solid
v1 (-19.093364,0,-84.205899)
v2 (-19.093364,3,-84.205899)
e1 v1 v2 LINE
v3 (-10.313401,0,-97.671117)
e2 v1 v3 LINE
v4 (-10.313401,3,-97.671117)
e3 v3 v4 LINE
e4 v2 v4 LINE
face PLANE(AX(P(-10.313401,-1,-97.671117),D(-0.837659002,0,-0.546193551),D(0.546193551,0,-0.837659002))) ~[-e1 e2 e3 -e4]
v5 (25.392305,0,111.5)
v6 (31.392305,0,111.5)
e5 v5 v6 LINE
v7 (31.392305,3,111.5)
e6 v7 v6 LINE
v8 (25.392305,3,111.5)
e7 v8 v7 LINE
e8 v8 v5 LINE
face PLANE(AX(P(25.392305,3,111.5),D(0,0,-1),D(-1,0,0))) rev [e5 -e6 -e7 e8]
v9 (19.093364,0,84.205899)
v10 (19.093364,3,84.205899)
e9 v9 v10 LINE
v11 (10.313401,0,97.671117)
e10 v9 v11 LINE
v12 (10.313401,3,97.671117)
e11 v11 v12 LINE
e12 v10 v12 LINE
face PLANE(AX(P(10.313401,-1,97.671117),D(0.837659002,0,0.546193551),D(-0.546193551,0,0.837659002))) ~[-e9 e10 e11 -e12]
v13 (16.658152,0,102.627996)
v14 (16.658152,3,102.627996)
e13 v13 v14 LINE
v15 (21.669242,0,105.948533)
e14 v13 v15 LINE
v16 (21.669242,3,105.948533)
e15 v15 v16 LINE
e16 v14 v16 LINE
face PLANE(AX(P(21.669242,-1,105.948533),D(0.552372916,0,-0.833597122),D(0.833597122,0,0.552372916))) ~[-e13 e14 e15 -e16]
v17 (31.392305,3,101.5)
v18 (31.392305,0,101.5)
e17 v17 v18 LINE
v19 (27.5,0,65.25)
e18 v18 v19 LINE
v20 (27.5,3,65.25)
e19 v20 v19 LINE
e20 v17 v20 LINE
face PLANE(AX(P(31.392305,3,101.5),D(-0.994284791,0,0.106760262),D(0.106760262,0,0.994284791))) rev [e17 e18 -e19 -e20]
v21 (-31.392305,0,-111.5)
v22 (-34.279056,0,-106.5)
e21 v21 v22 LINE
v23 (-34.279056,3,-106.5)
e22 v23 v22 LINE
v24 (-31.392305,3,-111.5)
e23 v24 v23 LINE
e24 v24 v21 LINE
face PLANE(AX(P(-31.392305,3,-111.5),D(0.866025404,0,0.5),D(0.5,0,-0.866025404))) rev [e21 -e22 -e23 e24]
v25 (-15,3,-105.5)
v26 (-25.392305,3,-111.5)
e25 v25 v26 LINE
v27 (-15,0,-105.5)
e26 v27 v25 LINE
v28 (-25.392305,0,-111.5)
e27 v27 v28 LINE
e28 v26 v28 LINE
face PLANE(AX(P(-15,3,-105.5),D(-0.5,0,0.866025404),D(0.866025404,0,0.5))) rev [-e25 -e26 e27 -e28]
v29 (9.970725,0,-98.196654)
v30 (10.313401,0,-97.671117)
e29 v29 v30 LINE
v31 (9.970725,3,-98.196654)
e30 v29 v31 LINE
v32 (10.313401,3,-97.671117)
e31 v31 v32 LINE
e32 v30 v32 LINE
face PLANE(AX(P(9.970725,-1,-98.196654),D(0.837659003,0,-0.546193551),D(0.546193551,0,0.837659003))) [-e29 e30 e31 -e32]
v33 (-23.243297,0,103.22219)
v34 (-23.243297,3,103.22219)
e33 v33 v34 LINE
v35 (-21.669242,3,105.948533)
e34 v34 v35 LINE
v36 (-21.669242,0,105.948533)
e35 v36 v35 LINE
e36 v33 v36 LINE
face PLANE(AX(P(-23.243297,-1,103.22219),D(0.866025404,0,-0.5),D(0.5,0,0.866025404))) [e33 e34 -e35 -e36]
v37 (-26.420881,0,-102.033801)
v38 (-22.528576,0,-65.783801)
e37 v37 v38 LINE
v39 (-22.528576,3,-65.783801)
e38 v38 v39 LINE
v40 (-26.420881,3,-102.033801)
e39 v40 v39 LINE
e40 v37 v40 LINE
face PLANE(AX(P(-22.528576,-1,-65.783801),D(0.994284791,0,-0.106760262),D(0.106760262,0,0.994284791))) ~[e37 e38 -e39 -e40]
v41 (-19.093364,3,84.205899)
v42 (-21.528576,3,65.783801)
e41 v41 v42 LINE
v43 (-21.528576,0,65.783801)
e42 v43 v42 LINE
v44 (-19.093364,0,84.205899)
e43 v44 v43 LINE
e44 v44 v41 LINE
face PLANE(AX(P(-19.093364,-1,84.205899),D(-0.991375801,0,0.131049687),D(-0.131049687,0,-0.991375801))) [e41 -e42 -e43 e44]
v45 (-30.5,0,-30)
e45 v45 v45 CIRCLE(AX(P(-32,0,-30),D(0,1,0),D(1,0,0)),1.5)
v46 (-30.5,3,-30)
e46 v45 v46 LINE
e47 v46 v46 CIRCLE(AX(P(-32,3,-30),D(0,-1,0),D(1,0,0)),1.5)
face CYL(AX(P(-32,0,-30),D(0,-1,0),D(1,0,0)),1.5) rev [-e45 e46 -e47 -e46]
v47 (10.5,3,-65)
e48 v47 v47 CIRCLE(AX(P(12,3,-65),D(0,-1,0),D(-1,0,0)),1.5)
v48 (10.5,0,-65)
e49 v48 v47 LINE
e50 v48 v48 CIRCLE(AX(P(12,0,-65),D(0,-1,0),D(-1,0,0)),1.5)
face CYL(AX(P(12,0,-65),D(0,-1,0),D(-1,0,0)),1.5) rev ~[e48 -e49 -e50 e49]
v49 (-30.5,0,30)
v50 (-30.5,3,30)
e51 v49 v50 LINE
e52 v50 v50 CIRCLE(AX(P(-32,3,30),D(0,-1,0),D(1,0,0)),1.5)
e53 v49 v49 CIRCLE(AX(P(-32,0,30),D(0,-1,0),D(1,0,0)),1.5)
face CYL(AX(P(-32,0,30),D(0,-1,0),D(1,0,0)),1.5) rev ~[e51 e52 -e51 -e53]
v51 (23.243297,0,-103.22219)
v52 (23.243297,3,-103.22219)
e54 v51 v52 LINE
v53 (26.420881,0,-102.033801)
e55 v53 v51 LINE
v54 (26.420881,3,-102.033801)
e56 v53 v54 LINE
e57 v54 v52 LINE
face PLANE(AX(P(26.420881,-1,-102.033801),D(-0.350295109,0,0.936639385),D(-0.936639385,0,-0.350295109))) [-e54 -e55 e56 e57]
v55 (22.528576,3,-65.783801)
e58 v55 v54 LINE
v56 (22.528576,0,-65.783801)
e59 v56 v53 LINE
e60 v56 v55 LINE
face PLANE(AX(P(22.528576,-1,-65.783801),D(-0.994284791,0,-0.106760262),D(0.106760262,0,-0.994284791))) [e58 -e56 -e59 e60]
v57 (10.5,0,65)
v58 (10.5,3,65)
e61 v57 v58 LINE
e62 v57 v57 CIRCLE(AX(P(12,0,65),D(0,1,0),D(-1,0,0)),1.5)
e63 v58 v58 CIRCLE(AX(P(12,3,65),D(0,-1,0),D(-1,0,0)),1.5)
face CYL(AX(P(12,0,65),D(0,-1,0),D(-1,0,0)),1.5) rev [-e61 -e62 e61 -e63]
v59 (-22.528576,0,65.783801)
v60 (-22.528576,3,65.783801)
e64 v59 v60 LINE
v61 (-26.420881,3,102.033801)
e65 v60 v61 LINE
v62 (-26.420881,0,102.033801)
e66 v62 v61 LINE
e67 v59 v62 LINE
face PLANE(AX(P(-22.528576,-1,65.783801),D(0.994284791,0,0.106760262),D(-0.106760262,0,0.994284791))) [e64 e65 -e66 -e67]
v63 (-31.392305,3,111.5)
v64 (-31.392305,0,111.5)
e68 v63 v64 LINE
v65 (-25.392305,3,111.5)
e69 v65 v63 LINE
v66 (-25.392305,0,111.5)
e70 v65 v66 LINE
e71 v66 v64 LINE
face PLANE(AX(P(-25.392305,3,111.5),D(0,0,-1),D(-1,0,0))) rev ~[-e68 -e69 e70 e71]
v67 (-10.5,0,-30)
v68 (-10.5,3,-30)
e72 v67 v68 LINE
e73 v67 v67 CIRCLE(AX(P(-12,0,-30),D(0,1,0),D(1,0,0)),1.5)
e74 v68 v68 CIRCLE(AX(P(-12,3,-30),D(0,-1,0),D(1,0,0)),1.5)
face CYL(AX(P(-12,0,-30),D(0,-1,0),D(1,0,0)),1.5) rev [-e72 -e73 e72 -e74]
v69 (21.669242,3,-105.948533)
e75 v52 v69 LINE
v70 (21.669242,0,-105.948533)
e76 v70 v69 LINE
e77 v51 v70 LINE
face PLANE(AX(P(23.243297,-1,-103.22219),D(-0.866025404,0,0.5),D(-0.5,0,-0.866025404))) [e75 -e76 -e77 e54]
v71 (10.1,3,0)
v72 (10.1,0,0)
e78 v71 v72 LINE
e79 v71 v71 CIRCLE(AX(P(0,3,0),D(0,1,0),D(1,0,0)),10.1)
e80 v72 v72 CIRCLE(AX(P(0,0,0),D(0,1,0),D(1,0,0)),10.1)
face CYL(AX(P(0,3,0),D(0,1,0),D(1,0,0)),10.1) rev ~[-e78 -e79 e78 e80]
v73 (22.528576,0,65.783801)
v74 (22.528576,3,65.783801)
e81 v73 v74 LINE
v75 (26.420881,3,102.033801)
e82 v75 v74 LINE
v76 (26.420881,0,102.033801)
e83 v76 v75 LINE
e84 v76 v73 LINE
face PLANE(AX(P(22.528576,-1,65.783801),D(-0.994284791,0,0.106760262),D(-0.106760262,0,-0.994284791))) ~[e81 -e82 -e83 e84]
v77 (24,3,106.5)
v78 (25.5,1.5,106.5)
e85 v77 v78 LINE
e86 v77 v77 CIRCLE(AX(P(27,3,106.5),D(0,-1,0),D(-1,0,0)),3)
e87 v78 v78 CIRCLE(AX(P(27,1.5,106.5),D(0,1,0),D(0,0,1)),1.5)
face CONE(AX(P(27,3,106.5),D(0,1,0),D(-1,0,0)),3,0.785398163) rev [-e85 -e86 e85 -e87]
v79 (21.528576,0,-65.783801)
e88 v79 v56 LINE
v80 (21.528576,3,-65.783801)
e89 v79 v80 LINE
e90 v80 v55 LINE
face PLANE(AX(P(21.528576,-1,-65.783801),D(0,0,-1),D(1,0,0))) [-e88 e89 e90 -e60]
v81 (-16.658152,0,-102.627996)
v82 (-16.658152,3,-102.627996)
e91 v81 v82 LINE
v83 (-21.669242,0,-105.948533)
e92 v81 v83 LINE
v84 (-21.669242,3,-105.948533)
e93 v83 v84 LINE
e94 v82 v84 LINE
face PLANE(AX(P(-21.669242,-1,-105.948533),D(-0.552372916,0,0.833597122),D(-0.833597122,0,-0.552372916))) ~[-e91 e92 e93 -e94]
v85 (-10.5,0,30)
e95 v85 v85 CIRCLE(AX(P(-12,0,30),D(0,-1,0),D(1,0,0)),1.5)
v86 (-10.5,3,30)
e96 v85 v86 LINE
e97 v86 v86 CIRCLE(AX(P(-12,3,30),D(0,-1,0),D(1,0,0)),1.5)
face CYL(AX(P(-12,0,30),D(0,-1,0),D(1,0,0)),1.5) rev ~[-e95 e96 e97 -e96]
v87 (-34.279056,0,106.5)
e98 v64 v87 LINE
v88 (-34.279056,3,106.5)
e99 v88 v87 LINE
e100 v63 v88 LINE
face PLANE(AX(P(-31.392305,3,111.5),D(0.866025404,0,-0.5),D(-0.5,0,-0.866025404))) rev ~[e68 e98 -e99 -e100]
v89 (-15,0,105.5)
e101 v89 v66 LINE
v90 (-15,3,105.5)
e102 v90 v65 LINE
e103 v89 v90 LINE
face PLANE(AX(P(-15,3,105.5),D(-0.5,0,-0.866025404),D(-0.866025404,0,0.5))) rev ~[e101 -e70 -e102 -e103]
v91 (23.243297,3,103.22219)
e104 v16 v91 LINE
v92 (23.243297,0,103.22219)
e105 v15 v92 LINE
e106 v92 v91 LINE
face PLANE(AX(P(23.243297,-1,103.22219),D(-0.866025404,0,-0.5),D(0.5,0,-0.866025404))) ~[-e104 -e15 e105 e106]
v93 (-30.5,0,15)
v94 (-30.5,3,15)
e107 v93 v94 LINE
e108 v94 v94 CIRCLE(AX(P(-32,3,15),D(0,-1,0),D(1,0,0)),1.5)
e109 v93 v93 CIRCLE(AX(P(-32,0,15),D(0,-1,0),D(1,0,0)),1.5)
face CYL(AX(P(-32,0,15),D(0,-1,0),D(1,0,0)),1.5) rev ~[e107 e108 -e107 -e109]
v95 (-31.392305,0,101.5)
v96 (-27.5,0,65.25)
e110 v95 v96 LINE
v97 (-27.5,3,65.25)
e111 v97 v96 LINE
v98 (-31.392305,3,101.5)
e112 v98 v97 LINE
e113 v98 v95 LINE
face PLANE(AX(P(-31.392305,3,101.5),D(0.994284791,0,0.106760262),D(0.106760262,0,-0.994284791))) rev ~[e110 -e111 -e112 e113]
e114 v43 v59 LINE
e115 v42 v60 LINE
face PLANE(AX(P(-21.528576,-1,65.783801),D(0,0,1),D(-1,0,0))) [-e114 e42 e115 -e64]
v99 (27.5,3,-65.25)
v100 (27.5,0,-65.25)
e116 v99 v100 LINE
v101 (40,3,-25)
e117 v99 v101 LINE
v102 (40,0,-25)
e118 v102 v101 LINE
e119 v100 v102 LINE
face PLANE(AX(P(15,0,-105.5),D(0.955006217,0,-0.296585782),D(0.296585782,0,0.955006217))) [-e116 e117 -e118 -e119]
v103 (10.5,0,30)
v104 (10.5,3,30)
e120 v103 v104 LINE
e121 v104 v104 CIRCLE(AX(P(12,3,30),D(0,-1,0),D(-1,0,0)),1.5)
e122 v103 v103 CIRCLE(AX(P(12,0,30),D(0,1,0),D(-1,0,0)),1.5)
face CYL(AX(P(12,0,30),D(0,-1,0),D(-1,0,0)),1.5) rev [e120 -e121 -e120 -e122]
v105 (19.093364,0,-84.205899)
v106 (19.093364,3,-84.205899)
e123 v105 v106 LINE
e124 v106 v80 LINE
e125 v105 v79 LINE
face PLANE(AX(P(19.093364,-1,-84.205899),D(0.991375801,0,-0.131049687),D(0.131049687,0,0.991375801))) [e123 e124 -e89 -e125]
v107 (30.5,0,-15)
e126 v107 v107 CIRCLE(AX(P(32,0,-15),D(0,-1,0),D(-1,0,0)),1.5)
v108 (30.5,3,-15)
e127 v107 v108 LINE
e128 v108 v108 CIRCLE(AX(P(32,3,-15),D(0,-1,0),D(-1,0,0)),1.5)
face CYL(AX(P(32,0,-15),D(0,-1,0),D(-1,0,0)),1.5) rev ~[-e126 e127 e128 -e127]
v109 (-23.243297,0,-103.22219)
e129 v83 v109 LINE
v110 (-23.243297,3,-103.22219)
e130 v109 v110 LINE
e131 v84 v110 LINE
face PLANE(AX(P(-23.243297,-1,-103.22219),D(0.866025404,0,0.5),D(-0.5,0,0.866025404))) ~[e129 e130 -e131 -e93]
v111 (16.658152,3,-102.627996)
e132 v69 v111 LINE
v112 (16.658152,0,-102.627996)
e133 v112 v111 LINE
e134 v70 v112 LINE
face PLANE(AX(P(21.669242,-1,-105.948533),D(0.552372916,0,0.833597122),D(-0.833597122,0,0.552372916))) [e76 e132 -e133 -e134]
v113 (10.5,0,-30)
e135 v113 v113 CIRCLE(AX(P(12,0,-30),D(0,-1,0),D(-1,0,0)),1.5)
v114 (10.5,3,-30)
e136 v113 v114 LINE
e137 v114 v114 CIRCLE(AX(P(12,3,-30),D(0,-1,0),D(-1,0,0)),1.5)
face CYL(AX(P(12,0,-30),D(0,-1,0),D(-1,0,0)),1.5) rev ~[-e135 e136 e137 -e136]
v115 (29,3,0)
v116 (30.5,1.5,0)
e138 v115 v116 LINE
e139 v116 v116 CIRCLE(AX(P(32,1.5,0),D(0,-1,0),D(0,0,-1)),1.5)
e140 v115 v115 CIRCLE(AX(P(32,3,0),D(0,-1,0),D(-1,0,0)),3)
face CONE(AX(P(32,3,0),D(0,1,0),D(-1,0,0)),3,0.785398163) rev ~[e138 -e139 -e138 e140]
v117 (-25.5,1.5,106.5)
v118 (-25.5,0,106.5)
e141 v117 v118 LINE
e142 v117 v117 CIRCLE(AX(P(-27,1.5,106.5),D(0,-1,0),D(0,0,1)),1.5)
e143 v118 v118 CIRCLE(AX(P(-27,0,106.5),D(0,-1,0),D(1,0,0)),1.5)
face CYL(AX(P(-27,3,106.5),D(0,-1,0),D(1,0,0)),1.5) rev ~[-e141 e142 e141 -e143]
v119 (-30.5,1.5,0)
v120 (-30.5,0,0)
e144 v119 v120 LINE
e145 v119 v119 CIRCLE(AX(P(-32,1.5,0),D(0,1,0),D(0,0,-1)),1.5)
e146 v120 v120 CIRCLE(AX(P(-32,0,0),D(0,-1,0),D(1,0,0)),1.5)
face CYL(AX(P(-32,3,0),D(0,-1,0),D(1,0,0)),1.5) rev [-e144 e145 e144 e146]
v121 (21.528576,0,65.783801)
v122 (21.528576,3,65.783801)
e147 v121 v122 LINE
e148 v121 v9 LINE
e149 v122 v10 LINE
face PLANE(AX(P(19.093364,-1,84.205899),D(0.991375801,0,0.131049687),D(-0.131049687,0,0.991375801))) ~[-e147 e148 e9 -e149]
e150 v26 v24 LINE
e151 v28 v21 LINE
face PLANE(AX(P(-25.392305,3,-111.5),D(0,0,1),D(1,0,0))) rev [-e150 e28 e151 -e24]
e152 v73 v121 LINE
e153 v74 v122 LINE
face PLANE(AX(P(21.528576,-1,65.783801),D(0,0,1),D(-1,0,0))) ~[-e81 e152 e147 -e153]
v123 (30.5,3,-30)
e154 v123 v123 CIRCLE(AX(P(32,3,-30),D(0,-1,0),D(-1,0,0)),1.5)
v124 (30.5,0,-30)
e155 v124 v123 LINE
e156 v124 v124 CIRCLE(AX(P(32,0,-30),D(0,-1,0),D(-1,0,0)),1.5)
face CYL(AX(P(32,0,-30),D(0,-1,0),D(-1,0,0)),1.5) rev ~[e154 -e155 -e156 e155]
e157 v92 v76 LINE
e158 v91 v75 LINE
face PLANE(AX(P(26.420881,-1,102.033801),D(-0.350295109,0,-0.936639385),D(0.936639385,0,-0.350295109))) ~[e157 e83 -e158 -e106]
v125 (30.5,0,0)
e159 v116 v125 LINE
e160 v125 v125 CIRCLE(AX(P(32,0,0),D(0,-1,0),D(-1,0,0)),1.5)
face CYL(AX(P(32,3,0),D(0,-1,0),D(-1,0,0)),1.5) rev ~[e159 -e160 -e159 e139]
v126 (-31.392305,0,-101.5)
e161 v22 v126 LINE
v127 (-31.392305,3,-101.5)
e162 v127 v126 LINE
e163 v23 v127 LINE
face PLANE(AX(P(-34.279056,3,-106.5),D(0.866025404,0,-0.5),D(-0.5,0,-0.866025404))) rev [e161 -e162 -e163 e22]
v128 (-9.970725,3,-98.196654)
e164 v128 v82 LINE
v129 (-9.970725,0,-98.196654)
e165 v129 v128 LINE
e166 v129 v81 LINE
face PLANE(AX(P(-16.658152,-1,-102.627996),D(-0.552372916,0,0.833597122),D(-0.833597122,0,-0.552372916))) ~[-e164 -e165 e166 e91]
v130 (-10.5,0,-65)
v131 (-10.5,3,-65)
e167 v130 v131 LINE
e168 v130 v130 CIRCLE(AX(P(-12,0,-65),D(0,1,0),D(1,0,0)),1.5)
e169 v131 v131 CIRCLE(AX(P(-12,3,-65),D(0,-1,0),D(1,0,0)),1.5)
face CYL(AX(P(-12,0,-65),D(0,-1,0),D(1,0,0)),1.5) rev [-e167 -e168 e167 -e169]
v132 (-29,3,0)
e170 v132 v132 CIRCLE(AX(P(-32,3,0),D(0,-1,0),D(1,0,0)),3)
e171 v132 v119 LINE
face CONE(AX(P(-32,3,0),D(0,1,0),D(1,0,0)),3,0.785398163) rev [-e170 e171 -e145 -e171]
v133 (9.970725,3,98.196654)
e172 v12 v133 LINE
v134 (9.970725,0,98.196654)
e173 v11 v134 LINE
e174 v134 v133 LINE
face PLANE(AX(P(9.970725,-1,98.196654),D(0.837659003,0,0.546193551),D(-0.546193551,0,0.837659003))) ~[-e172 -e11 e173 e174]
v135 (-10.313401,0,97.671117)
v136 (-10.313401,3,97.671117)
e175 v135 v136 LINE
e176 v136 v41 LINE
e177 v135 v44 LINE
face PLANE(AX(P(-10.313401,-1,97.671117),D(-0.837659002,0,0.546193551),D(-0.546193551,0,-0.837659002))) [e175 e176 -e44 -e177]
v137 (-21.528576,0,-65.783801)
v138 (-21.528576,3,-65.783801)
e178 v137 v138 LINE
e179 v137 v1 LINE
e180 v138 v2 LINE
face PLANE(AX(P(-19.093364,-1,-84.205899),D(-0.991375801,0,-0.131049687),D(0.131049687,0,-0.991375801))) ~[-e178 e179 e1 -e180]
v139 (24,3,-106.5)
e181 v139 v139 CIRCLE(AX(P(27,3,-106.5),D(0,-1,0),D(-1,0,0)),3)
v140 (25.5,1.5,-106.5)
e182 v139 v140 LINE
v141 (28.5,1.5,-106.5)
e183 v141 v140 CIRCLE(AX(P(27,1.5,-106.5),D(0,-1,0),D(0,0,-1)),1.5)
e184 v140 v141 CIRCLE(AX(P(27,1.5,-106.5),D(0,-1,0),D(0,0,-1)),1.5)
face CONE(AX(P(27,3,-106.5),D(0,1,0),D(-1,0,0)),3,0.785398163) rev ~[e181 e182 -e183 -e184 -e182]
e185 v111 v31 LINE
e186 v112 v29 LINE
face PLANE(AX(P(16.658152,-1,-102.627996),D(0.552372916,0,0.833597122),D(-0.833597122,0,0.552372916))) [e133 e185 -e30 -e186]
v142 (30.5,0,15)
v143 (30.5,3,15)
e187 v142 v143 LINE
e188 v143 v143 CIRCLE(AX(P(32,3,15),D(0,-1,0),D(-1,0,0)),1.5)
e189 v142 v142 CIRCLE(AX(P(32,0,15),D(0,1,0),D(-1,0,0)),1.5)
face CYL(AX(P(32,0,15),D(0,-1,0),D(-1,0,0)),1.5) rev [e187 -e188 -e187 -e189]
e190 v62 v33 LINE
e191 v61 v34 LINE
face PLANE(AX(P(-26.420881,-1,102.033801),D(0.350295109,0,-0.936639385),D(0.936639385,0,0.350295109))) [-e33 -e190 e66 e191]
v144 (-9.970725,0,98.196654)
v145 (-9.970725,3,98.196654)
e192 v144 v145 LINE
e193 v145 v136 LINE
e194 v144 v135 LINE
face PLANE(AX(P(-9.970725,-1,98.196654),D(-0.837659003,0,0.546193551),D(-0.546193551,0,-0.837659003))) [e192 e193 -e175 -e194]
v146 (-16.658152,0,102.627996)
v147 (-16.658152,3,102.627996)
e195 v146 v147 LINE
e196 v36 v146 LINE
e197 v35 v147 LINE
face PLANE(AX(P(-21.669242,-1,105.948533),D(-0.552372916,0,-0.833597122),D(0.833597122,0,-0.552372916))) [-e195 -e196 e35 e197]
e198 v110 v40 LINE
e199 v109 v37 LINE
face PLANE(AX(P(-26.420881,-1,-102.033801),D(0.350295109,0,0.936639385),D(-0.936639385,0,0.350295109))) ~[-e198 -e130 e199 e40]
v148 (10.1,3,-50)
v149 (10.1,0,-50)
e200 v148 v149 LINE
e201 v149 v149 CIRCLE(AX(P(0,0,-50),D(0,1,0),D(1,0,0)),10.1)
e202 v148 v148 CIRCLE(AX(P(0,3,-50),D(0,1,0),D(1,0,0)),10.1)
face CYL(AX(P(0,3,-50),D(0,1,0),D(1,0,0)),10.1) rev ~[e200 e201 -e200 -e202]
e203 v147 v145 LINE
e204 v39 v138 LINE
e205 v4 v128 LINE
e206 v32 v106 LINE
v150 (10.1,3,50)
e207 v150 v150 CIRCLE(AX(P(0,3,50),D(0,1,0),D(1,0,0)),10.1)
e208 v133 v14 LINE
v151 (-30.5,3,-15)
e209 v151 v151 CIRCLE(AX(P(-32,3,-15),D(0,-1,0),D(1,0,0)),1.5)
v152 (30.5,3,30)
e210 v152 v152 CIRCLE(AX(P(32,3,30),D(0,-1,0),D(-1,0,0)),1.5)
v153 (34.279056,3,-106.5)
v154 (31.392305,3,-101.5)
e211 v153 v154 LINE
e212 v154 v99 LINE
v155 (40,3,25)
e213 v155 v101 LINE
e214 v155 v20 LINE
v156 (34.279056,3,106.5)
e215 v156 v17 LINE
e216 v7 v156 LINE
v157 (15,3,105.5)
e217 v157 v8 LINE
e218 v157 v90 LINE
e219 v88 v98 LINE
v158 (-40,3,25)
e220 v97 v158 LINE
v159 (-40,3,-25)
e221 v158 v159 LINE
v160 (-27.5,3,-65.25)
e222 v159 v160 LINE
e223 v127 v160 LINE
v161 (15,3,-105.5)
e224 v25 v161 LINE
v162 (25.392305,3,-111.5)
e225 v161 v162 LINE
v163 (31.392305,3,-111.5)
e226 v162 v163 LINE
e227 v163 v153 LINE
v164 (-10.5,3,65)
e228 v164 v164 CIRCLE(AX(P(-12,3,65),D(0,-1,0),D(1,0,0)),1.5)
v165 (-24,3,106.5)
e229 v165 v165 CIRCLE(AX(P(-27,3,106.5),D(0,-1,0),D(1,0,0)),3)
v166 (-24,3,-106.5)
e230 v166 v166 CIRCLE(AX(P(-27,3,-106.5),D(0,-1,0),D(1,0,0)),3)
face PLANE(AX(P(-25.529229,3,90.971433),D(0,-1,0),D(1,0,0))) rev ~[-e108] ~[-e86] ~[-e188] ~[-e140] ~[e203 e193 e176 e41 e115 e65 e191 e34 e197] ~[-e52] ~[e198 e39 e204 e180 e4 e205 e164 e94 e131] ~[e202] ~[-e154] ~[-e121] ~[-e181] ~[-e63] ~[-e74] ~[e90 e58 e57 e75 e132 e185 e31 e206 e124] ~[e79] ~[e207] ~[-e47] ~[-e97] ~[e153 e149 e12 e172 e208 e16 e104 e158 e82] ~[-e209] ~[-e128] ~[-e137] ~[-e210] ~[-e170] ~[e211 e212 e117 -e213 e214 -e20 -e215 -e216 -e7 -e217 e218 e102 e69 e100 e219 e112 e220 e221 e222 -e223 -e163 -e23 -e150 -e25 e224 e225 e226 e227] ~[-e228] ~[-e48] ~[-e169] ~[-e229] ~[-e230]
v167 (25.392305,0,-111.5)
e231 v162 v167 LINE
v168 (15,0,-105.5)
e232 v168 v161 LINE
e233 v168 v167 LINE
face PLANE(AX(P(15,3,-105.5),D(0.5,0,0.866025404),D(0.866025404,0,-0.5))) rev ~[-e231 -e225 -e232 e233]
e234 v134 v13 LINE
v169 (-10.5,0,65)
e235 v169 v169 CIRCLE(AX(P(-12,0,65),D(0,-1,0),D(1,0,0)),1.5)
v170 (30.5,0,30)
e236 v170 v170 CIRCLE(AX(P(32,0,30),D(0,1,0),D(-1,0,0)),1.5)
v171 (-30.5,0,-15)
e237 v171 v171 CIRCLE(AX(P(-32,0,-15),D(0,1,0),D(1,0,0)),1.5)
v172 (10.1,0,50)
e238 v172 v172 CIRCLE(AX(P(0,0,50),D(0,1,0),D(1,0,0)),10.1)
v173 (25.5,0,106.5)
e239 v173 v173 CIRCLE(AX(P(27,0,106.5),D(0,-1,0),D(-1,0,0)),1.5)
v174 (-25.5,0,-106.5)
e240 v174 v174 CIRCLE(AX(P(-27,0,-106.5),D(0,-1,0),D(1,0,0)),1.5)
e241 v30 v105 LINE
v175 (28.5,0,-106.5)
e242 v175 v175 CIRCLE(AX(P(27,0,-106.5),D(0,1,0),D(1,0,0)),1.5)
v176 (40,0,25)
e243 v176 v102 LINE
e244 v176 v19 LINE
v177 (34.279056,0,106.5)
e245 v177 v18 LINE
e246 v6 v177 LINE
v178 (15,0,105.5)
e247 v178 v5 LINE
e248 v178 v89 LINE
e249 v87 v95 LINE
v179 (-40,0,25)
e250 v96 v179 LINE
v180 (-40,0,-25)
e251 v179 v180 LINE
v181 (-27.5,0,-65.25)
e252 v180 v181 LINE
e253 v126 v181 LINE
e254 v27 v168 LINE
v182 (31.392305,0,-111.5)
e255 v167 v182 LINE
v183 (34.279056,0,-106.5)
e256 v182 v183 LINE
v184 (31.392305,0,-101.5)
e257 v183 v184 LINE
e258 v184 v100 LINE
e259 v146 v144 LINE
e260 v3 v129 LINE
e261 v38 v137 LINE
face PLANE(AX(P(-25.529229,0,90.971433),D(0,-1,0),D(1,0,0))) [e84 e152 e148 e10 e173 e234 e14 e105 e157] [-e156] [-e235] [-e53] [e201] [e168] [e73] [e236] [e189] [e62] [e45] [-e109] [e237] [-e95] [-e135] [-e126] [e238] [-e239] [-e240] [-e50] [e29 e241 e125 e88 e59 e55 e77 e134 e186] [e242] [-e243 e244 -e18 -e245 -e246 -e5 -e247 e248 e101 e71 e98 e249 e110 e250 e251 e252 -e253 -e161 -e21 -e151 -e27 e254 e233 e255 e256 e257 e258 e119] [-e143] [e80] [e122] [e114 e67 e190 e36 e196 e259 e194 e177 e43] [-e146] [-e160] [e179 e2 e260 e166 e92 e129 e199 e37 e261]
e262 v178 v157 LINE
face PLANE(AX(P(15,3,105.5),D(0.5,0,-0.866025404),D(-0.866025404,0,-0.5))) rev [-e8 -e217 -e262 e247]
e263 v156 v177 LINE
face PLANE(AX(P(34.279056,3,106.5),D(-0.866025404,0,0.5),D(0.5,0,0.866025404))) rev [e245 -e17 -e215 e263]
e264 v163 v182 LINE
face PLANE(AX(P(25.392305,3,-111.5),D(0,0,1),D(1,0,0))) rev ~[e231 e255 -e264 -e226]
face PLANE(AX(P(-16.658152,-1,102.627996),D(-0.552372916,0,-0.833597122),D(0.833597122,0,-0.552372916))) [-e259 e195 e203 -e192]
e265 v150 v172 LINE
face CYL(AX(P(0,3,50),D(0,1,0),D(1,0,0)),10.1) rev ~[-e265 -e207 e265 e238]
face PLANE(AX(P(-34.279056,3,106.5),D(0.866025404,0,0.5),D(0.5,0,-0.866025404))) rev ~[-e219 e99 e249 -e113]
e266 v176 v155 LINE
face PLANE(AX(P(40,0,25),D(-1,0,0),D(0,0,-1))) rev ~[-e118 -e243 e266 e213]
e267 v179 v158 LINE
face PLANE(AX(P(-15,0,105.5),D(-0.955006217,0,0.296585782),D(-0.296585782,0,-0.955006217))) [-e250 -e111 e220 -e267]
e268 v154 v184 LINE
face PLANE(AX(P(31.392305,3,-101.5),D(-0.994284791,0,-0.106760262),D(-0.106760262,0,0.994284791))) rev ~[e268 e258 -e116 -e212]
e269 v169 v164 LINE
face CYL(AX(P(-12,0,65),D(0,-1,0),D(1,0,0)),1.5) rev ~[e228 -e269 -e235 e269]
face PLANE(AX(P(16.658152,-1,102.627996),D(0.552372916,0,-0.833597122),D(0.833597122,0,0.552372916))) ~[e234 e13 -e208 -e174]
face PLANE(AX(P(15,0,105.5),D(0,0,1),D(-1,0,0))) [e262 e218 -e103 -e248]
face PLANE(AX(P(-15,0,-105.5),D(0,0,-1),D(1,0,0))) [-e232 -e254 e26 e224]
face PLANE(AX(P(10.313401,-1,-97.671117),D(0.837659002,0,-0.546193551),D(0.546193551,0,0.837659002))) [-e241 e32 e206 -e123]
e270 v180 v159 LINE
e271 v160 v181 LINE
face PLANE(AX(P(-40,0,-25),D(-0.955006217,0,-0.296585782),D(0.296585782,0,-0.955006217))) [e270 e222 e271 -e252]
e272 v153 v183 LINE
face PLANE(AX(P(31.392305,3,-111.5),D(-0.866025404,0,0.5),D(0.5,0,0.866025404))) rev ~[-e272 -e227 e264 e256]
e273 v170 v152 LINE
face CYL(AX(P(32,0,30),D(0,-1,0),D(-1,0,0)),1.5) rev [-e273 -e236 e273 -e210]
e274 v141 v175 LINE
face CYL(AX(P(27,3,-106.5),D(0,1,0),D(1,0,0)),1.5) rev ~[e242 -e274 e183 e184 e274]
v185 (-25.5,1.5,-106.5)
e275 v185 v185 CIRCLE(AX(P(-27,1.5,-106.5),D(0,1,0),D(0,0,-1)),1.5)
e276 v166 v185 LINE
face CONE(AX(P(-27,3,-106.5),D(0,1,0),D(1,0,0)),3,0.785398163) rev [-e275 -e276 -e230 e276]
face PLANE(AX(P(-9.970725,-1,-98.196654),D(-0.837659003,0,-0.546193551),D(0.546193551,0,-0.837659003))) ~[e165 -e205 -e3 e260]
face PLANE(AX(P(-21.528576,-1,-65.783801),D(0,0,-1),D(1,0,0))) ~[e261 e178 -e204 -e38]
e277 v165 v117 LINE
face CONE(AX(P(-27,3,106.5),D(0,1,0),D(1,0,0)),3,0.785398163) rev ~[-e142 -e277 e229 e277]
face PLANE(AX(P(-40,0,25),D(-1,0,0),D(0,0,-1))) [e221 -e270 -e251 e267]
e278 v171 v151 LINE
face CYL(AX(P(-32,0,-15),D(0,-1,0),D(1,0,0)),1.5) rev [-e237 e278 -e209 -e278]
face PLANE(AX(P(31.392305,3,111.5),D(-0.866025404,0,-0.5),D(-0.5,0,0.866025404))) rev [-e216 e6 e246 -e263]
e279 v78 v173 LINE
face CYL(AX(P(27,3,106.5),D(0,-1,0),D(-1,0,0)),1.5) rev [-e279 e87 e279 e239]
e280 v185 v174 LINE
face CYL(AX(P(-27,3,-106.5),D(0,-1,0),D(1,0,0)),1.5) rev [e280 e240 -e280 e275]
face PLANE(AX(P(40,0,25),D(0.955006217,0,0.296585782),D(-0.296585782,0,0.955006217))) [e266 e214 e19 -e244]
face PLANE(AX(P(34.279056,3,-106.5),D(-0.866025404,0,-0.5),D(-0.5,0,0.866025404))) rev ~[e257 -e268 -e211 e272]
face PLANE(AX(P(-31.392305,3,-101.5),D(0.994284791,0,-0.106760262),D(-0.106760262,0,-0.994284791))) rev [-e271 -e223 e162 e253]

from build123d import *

# Parameters (mm, degrees)
SKETCH_1_W                   = 80
SKETCH_1_H                   = 50
EXTRUDE_1_DEPTH              = 3
EXTRUDE_2_DEPTH              = 3
SKETCH_8_R                   = 1.5
CUT_EXTRUDE_4_DEPTH          = 3
CUT_EXTRUDE_START            = -4
CUT_EXTRUDE_6_DEPTH          = 5
HOLE_WIZARD_M3_1_D           = 3
HOLE_WIZARD_M3_1_CSINK_D     = 6
HOLE_WIZARD_M3_1_CSINK_ANGLE = 90
MIRROR_7_COPY_1_DEPTH        = 3
MIRROR_START                 = -4
MIRROR_7_COPY_2_DEPTH        = 5
MIRROR_7_COPY_3_D            = 3
MIRROR_7_COPY_3_CSINK_D      = 6
MIRROR_7_COPY_3_CSINK_ANGLE  = 90
SKETCH_14_R                  = 10.1
CUT_EXTRUDE_7_DEPTH          = 4
SKETCH_15_R                  = 1.5
CUT_EXTRUDE_8_DEPTH          = 10
MIRROR_9_COPY_1_SKETCH_R     = 1.5
MIRROR_9_COPY_1_DEPTH        = 10


with BuildPart() as part:
    # 草图1 → 凸台-拉伸1 (new body)
    with BuildSketch(Plane(origin=(0, 0, 0), x_dir=(1, 0, 0), z_dir=(0, 1, 0))):
        Polygon((-15, -105.5), (-40, -25), (40, -25), (15, -105.5), align=None)
        Rectangle(SKETCH_1_W, SKETCH_1_H)
        Polygon((-15, 105.5), (15, 105.5), (40, 25), (-40, 25), align=None)
    extrude(amount=EXTRUDE_1_DEPTH)

    # 草图7 → 凸台-拉伸2 (add)
    with BuildSketch(Plane(origin=(0, 3, 0), x_dir=(1, 0, 0), z_dir=(0, 1, 0))):
        Polygon((15, 105.5), (25.392304845, 111.5), (31.392304845, 111.5), (34.279056191, 106.5), (31.392304845, 101.5), (27.5, 65.25), align=None)
    extrude_2 = extrude(amount=-EXTRUDE_2_DEPTH)

    # 草图8 → 切除-拉伸4 (cut)
    with BuildSketch(Plane(origin=(0, 3, 0), x_dir=(1, 0, 0), z_dir=(0, 1, 0))):
        with Locations((27, 106.5)):
            Circle(SKETCH_8_R)
    extrude(amount=-CUT_EXTRUDE_4_DEPTH, mode=Mode.SUBTRACT)

    # 草图9 → 切除-拉伸6 (cut)
    with BuildSketch(Plane(origin=(0, 3, 0), x_dir=(1, 0, 0), z_dir=(0, 1, 0)).offset(CUT_EXTRUDE_START)):
        Polygon((22.528576043, 65.783801312), (26.420880888, 102.033801312), (23.243297221, 103.222190391), (21.66924243, 105.948533263), (16.658152368, 102.627995852), (19.093364206, 84.205898582), (21.528576043, 65.783801312), align=None)
        Polygon((10.313400805, 97.671116845), (19.093364206, 84.205898582), (16.658152368, 102.627995852), (9.970725358, 98.196654308), align=None)
    cut_extrude_6 = extrude(amount=CUT_EXTRUDE_6_DEPTH, mode=Mode.SUBTRACT)

    # M3 六角凹锥坑螺钉的锥形沉头孔1 (through all)
    with Locations(Plane(origin=(0, 3, 0), x_dir=(1, 0, 0), z_dir=(0, 1, 0))):
        with Locations((27, 106.5), (32, 0)):
            hole_wizard_m3_1 = CounterSinkHole(HOLE_WIZARD_M3_1_D / 2, HOLE_WIZARD_M3_1_CSINK_D / 2, counter_sink_angle=HOLE_WIZARD_M3_1_CSINK_ANGLE)

    # 镜向5: M3 六角凹锥坑螺钉的锥形沉头孔1 across plane
    add(hole_wizard_m3_1.mirror(Plane(origin=(0, 0, 0), x_dir=(0, 0, 1), z_dir=(1, 0, 0))), mode=Mode.SUBTRACT)

    # 镜向6: 凸台-拉伸2, 切除-拉伸6, M3 六角凹锥坑螺钉的锥形沉头孔1 across plane
    add(extrude_2.mirror(Plane(origin=(0, 0, 0), x_dir=(0, 0, 1), z_dir=(1, 0, 0))))
    add(cut_extrude_6.mirror(Plane(origin=(0, 0, 0), x_dir=(0, 0, 1), z_dir=(1, 0, 0))), mode=Mode.SUBTRACT)
    add(hole_wizard_m3_1.mirror(Plane(origin=(0, 0, 0), x_dir=(0, 0, 1), z_dir=(1, 0, 0))), mode=Mode.SUBTRACT)

    # 镜向7: 凸台-拉伸2, 切除-拉伸6, M3 六角凹锥坑螺钉的锥形沉头孔1 across plane
    add(extrude_2.mirror(Plane.XY))
    add(cut_extrude_6.mirror(Plane.XY), mode=Mode.SUBTRACT)
    add(hole_wizard_m3_1.mirror(Plane.XY), mode=Mode.SUBTRACT)

    # 镜向7 copy 1 sketch → 镜向7 copy 1 (add)
    with BuildSketch(Plane(origin=(0, 3, 0), x_dir=(-1, 0, 0), z_dir=(0, 1, 0))):
        Polygon((15, 105.5), (25.392304845, 111.5), (31.392304845, 111.5), (34.279056191, 106.5), (31.392304845, 101.5), (27.5, 65.25), align=None)
    extrude(amount=-MIRROR_7_COPY_1_DEPTH)

    # 镜向7 copy 2 sketch → 镜向7 copy 2 (cut)
    with BuildSketch(Plane(origin=(0, 3, 0), x_dir=(-1, 0, 0), z_dir=(0, 1, 0)).offset(MIRROR_START)):
        Polygon((22.528576043, 65.783801312), (26.420880888, 102.033801312), (23.243297221, 103.222190391), (21.66924243, 105.948533263), (16.658152368, 102.627995852), (19.093364206, 84.205898582), (21.528576043, 65.783801312), align=None)
        Polygon((10.313400805, 97.671116845), (19.093364206, 84.205898582), (16.658152368, 102.627995852), (9.970725358, 98.196654308), align=None)
    extrude(amount=MIRROR_7_COPY_2_DEPTH, mode=Mode.SUBTRACT)

    # 镜向7 copy 3 (through all)
    with Locations(Plane(origin=(0, 3, 0), x_dir=(-1, 0, 0), z_dir=(0, 1, 0))):
        with Locations((27, 106.5), (32, 0)):
            CounterSinkHole(MIRROR_7_COPY_3_D / 2, MIRROR_7_COPY_3_CSINK_D / 2, counter_sink_angle=MIRROR_7_COPY_3_CSINK_ANGLE)

    # 草图14 → 切除-拉伸7 (cut, through all)
    with BuildSketch(Plane(origin=(0, 3, 0), x_dir=(1, 0, 0), z_dir=(0, 1, 0))):
        Circle(SKETCH_14_R)
        with Locations((0, -50)):
            Circle(SKETCH_14_R)
        with Locations((0, 50)):
            Circle(SKETCH_14_R)
    extrude(amount=-CUT_EXTRUDE_7_DEPTH, mode=Mode.SUBTRACT)

    # 草图15 → 切除-拉伸8 (cut)
    with BuildSketch(Plane.XZ):
        with Locations((-32, 15)):
            Circle(SKETCH_15_R)
        with Locations((-32, 30)):
            Circle(SKETCH_15_R)
        with Locations((-12, 65)):
            Circle(SKETCH_15_R)
        with Locations((-12, 30)):
            Circle(SKETCH_15_R)
    cut_extrude_8 = extrude(amount=-CUT_EXTRUDE_8_DEPTH, mode=Mode.SUBTRACT)

    # 镜向8: 切除-拉伸8 across plane
    add(cut_extrude_8.mirror(Plane(origin=(0, 0, 0), x_dir=(0, 0, 1), z_dir=(1, 0, 0))), mode=Mode.SUBTRACT)

    # 镜向9: 切除-拉伸8 across plane
    add(cut_extrude_8.mirror(Plane.XY), mode=Mode.SUBTRACT)

    # 镜向9 copy 1 sketch → 镜向9 copy 1 (cut)
    with BuildSketch(Plane(origin=(0, 0, 0), x_dir=(-1, 0, 0), z_dir=(0, -1, 0))):
        with Locations((-32, 15)):
            Circle(MIRROR_9_COPY_1_SKETCH_R)
        with Locations((-32, 30)):
            Circle(MIRROR_9_COPY_1_SKETCH_R)
        with Locations((-12, 65)):
            Circle(MIRROR_9_COPY_1_SKETCH_R)
        with Locations((-12, 30)):
            Circle(MIRROR_9_COPY_1_SKETCH_R)
    extrude(amount=-MIRROR_9_COPY_1_DEPTH, mode=Mode.SUBTRACT)


solid = part.part
